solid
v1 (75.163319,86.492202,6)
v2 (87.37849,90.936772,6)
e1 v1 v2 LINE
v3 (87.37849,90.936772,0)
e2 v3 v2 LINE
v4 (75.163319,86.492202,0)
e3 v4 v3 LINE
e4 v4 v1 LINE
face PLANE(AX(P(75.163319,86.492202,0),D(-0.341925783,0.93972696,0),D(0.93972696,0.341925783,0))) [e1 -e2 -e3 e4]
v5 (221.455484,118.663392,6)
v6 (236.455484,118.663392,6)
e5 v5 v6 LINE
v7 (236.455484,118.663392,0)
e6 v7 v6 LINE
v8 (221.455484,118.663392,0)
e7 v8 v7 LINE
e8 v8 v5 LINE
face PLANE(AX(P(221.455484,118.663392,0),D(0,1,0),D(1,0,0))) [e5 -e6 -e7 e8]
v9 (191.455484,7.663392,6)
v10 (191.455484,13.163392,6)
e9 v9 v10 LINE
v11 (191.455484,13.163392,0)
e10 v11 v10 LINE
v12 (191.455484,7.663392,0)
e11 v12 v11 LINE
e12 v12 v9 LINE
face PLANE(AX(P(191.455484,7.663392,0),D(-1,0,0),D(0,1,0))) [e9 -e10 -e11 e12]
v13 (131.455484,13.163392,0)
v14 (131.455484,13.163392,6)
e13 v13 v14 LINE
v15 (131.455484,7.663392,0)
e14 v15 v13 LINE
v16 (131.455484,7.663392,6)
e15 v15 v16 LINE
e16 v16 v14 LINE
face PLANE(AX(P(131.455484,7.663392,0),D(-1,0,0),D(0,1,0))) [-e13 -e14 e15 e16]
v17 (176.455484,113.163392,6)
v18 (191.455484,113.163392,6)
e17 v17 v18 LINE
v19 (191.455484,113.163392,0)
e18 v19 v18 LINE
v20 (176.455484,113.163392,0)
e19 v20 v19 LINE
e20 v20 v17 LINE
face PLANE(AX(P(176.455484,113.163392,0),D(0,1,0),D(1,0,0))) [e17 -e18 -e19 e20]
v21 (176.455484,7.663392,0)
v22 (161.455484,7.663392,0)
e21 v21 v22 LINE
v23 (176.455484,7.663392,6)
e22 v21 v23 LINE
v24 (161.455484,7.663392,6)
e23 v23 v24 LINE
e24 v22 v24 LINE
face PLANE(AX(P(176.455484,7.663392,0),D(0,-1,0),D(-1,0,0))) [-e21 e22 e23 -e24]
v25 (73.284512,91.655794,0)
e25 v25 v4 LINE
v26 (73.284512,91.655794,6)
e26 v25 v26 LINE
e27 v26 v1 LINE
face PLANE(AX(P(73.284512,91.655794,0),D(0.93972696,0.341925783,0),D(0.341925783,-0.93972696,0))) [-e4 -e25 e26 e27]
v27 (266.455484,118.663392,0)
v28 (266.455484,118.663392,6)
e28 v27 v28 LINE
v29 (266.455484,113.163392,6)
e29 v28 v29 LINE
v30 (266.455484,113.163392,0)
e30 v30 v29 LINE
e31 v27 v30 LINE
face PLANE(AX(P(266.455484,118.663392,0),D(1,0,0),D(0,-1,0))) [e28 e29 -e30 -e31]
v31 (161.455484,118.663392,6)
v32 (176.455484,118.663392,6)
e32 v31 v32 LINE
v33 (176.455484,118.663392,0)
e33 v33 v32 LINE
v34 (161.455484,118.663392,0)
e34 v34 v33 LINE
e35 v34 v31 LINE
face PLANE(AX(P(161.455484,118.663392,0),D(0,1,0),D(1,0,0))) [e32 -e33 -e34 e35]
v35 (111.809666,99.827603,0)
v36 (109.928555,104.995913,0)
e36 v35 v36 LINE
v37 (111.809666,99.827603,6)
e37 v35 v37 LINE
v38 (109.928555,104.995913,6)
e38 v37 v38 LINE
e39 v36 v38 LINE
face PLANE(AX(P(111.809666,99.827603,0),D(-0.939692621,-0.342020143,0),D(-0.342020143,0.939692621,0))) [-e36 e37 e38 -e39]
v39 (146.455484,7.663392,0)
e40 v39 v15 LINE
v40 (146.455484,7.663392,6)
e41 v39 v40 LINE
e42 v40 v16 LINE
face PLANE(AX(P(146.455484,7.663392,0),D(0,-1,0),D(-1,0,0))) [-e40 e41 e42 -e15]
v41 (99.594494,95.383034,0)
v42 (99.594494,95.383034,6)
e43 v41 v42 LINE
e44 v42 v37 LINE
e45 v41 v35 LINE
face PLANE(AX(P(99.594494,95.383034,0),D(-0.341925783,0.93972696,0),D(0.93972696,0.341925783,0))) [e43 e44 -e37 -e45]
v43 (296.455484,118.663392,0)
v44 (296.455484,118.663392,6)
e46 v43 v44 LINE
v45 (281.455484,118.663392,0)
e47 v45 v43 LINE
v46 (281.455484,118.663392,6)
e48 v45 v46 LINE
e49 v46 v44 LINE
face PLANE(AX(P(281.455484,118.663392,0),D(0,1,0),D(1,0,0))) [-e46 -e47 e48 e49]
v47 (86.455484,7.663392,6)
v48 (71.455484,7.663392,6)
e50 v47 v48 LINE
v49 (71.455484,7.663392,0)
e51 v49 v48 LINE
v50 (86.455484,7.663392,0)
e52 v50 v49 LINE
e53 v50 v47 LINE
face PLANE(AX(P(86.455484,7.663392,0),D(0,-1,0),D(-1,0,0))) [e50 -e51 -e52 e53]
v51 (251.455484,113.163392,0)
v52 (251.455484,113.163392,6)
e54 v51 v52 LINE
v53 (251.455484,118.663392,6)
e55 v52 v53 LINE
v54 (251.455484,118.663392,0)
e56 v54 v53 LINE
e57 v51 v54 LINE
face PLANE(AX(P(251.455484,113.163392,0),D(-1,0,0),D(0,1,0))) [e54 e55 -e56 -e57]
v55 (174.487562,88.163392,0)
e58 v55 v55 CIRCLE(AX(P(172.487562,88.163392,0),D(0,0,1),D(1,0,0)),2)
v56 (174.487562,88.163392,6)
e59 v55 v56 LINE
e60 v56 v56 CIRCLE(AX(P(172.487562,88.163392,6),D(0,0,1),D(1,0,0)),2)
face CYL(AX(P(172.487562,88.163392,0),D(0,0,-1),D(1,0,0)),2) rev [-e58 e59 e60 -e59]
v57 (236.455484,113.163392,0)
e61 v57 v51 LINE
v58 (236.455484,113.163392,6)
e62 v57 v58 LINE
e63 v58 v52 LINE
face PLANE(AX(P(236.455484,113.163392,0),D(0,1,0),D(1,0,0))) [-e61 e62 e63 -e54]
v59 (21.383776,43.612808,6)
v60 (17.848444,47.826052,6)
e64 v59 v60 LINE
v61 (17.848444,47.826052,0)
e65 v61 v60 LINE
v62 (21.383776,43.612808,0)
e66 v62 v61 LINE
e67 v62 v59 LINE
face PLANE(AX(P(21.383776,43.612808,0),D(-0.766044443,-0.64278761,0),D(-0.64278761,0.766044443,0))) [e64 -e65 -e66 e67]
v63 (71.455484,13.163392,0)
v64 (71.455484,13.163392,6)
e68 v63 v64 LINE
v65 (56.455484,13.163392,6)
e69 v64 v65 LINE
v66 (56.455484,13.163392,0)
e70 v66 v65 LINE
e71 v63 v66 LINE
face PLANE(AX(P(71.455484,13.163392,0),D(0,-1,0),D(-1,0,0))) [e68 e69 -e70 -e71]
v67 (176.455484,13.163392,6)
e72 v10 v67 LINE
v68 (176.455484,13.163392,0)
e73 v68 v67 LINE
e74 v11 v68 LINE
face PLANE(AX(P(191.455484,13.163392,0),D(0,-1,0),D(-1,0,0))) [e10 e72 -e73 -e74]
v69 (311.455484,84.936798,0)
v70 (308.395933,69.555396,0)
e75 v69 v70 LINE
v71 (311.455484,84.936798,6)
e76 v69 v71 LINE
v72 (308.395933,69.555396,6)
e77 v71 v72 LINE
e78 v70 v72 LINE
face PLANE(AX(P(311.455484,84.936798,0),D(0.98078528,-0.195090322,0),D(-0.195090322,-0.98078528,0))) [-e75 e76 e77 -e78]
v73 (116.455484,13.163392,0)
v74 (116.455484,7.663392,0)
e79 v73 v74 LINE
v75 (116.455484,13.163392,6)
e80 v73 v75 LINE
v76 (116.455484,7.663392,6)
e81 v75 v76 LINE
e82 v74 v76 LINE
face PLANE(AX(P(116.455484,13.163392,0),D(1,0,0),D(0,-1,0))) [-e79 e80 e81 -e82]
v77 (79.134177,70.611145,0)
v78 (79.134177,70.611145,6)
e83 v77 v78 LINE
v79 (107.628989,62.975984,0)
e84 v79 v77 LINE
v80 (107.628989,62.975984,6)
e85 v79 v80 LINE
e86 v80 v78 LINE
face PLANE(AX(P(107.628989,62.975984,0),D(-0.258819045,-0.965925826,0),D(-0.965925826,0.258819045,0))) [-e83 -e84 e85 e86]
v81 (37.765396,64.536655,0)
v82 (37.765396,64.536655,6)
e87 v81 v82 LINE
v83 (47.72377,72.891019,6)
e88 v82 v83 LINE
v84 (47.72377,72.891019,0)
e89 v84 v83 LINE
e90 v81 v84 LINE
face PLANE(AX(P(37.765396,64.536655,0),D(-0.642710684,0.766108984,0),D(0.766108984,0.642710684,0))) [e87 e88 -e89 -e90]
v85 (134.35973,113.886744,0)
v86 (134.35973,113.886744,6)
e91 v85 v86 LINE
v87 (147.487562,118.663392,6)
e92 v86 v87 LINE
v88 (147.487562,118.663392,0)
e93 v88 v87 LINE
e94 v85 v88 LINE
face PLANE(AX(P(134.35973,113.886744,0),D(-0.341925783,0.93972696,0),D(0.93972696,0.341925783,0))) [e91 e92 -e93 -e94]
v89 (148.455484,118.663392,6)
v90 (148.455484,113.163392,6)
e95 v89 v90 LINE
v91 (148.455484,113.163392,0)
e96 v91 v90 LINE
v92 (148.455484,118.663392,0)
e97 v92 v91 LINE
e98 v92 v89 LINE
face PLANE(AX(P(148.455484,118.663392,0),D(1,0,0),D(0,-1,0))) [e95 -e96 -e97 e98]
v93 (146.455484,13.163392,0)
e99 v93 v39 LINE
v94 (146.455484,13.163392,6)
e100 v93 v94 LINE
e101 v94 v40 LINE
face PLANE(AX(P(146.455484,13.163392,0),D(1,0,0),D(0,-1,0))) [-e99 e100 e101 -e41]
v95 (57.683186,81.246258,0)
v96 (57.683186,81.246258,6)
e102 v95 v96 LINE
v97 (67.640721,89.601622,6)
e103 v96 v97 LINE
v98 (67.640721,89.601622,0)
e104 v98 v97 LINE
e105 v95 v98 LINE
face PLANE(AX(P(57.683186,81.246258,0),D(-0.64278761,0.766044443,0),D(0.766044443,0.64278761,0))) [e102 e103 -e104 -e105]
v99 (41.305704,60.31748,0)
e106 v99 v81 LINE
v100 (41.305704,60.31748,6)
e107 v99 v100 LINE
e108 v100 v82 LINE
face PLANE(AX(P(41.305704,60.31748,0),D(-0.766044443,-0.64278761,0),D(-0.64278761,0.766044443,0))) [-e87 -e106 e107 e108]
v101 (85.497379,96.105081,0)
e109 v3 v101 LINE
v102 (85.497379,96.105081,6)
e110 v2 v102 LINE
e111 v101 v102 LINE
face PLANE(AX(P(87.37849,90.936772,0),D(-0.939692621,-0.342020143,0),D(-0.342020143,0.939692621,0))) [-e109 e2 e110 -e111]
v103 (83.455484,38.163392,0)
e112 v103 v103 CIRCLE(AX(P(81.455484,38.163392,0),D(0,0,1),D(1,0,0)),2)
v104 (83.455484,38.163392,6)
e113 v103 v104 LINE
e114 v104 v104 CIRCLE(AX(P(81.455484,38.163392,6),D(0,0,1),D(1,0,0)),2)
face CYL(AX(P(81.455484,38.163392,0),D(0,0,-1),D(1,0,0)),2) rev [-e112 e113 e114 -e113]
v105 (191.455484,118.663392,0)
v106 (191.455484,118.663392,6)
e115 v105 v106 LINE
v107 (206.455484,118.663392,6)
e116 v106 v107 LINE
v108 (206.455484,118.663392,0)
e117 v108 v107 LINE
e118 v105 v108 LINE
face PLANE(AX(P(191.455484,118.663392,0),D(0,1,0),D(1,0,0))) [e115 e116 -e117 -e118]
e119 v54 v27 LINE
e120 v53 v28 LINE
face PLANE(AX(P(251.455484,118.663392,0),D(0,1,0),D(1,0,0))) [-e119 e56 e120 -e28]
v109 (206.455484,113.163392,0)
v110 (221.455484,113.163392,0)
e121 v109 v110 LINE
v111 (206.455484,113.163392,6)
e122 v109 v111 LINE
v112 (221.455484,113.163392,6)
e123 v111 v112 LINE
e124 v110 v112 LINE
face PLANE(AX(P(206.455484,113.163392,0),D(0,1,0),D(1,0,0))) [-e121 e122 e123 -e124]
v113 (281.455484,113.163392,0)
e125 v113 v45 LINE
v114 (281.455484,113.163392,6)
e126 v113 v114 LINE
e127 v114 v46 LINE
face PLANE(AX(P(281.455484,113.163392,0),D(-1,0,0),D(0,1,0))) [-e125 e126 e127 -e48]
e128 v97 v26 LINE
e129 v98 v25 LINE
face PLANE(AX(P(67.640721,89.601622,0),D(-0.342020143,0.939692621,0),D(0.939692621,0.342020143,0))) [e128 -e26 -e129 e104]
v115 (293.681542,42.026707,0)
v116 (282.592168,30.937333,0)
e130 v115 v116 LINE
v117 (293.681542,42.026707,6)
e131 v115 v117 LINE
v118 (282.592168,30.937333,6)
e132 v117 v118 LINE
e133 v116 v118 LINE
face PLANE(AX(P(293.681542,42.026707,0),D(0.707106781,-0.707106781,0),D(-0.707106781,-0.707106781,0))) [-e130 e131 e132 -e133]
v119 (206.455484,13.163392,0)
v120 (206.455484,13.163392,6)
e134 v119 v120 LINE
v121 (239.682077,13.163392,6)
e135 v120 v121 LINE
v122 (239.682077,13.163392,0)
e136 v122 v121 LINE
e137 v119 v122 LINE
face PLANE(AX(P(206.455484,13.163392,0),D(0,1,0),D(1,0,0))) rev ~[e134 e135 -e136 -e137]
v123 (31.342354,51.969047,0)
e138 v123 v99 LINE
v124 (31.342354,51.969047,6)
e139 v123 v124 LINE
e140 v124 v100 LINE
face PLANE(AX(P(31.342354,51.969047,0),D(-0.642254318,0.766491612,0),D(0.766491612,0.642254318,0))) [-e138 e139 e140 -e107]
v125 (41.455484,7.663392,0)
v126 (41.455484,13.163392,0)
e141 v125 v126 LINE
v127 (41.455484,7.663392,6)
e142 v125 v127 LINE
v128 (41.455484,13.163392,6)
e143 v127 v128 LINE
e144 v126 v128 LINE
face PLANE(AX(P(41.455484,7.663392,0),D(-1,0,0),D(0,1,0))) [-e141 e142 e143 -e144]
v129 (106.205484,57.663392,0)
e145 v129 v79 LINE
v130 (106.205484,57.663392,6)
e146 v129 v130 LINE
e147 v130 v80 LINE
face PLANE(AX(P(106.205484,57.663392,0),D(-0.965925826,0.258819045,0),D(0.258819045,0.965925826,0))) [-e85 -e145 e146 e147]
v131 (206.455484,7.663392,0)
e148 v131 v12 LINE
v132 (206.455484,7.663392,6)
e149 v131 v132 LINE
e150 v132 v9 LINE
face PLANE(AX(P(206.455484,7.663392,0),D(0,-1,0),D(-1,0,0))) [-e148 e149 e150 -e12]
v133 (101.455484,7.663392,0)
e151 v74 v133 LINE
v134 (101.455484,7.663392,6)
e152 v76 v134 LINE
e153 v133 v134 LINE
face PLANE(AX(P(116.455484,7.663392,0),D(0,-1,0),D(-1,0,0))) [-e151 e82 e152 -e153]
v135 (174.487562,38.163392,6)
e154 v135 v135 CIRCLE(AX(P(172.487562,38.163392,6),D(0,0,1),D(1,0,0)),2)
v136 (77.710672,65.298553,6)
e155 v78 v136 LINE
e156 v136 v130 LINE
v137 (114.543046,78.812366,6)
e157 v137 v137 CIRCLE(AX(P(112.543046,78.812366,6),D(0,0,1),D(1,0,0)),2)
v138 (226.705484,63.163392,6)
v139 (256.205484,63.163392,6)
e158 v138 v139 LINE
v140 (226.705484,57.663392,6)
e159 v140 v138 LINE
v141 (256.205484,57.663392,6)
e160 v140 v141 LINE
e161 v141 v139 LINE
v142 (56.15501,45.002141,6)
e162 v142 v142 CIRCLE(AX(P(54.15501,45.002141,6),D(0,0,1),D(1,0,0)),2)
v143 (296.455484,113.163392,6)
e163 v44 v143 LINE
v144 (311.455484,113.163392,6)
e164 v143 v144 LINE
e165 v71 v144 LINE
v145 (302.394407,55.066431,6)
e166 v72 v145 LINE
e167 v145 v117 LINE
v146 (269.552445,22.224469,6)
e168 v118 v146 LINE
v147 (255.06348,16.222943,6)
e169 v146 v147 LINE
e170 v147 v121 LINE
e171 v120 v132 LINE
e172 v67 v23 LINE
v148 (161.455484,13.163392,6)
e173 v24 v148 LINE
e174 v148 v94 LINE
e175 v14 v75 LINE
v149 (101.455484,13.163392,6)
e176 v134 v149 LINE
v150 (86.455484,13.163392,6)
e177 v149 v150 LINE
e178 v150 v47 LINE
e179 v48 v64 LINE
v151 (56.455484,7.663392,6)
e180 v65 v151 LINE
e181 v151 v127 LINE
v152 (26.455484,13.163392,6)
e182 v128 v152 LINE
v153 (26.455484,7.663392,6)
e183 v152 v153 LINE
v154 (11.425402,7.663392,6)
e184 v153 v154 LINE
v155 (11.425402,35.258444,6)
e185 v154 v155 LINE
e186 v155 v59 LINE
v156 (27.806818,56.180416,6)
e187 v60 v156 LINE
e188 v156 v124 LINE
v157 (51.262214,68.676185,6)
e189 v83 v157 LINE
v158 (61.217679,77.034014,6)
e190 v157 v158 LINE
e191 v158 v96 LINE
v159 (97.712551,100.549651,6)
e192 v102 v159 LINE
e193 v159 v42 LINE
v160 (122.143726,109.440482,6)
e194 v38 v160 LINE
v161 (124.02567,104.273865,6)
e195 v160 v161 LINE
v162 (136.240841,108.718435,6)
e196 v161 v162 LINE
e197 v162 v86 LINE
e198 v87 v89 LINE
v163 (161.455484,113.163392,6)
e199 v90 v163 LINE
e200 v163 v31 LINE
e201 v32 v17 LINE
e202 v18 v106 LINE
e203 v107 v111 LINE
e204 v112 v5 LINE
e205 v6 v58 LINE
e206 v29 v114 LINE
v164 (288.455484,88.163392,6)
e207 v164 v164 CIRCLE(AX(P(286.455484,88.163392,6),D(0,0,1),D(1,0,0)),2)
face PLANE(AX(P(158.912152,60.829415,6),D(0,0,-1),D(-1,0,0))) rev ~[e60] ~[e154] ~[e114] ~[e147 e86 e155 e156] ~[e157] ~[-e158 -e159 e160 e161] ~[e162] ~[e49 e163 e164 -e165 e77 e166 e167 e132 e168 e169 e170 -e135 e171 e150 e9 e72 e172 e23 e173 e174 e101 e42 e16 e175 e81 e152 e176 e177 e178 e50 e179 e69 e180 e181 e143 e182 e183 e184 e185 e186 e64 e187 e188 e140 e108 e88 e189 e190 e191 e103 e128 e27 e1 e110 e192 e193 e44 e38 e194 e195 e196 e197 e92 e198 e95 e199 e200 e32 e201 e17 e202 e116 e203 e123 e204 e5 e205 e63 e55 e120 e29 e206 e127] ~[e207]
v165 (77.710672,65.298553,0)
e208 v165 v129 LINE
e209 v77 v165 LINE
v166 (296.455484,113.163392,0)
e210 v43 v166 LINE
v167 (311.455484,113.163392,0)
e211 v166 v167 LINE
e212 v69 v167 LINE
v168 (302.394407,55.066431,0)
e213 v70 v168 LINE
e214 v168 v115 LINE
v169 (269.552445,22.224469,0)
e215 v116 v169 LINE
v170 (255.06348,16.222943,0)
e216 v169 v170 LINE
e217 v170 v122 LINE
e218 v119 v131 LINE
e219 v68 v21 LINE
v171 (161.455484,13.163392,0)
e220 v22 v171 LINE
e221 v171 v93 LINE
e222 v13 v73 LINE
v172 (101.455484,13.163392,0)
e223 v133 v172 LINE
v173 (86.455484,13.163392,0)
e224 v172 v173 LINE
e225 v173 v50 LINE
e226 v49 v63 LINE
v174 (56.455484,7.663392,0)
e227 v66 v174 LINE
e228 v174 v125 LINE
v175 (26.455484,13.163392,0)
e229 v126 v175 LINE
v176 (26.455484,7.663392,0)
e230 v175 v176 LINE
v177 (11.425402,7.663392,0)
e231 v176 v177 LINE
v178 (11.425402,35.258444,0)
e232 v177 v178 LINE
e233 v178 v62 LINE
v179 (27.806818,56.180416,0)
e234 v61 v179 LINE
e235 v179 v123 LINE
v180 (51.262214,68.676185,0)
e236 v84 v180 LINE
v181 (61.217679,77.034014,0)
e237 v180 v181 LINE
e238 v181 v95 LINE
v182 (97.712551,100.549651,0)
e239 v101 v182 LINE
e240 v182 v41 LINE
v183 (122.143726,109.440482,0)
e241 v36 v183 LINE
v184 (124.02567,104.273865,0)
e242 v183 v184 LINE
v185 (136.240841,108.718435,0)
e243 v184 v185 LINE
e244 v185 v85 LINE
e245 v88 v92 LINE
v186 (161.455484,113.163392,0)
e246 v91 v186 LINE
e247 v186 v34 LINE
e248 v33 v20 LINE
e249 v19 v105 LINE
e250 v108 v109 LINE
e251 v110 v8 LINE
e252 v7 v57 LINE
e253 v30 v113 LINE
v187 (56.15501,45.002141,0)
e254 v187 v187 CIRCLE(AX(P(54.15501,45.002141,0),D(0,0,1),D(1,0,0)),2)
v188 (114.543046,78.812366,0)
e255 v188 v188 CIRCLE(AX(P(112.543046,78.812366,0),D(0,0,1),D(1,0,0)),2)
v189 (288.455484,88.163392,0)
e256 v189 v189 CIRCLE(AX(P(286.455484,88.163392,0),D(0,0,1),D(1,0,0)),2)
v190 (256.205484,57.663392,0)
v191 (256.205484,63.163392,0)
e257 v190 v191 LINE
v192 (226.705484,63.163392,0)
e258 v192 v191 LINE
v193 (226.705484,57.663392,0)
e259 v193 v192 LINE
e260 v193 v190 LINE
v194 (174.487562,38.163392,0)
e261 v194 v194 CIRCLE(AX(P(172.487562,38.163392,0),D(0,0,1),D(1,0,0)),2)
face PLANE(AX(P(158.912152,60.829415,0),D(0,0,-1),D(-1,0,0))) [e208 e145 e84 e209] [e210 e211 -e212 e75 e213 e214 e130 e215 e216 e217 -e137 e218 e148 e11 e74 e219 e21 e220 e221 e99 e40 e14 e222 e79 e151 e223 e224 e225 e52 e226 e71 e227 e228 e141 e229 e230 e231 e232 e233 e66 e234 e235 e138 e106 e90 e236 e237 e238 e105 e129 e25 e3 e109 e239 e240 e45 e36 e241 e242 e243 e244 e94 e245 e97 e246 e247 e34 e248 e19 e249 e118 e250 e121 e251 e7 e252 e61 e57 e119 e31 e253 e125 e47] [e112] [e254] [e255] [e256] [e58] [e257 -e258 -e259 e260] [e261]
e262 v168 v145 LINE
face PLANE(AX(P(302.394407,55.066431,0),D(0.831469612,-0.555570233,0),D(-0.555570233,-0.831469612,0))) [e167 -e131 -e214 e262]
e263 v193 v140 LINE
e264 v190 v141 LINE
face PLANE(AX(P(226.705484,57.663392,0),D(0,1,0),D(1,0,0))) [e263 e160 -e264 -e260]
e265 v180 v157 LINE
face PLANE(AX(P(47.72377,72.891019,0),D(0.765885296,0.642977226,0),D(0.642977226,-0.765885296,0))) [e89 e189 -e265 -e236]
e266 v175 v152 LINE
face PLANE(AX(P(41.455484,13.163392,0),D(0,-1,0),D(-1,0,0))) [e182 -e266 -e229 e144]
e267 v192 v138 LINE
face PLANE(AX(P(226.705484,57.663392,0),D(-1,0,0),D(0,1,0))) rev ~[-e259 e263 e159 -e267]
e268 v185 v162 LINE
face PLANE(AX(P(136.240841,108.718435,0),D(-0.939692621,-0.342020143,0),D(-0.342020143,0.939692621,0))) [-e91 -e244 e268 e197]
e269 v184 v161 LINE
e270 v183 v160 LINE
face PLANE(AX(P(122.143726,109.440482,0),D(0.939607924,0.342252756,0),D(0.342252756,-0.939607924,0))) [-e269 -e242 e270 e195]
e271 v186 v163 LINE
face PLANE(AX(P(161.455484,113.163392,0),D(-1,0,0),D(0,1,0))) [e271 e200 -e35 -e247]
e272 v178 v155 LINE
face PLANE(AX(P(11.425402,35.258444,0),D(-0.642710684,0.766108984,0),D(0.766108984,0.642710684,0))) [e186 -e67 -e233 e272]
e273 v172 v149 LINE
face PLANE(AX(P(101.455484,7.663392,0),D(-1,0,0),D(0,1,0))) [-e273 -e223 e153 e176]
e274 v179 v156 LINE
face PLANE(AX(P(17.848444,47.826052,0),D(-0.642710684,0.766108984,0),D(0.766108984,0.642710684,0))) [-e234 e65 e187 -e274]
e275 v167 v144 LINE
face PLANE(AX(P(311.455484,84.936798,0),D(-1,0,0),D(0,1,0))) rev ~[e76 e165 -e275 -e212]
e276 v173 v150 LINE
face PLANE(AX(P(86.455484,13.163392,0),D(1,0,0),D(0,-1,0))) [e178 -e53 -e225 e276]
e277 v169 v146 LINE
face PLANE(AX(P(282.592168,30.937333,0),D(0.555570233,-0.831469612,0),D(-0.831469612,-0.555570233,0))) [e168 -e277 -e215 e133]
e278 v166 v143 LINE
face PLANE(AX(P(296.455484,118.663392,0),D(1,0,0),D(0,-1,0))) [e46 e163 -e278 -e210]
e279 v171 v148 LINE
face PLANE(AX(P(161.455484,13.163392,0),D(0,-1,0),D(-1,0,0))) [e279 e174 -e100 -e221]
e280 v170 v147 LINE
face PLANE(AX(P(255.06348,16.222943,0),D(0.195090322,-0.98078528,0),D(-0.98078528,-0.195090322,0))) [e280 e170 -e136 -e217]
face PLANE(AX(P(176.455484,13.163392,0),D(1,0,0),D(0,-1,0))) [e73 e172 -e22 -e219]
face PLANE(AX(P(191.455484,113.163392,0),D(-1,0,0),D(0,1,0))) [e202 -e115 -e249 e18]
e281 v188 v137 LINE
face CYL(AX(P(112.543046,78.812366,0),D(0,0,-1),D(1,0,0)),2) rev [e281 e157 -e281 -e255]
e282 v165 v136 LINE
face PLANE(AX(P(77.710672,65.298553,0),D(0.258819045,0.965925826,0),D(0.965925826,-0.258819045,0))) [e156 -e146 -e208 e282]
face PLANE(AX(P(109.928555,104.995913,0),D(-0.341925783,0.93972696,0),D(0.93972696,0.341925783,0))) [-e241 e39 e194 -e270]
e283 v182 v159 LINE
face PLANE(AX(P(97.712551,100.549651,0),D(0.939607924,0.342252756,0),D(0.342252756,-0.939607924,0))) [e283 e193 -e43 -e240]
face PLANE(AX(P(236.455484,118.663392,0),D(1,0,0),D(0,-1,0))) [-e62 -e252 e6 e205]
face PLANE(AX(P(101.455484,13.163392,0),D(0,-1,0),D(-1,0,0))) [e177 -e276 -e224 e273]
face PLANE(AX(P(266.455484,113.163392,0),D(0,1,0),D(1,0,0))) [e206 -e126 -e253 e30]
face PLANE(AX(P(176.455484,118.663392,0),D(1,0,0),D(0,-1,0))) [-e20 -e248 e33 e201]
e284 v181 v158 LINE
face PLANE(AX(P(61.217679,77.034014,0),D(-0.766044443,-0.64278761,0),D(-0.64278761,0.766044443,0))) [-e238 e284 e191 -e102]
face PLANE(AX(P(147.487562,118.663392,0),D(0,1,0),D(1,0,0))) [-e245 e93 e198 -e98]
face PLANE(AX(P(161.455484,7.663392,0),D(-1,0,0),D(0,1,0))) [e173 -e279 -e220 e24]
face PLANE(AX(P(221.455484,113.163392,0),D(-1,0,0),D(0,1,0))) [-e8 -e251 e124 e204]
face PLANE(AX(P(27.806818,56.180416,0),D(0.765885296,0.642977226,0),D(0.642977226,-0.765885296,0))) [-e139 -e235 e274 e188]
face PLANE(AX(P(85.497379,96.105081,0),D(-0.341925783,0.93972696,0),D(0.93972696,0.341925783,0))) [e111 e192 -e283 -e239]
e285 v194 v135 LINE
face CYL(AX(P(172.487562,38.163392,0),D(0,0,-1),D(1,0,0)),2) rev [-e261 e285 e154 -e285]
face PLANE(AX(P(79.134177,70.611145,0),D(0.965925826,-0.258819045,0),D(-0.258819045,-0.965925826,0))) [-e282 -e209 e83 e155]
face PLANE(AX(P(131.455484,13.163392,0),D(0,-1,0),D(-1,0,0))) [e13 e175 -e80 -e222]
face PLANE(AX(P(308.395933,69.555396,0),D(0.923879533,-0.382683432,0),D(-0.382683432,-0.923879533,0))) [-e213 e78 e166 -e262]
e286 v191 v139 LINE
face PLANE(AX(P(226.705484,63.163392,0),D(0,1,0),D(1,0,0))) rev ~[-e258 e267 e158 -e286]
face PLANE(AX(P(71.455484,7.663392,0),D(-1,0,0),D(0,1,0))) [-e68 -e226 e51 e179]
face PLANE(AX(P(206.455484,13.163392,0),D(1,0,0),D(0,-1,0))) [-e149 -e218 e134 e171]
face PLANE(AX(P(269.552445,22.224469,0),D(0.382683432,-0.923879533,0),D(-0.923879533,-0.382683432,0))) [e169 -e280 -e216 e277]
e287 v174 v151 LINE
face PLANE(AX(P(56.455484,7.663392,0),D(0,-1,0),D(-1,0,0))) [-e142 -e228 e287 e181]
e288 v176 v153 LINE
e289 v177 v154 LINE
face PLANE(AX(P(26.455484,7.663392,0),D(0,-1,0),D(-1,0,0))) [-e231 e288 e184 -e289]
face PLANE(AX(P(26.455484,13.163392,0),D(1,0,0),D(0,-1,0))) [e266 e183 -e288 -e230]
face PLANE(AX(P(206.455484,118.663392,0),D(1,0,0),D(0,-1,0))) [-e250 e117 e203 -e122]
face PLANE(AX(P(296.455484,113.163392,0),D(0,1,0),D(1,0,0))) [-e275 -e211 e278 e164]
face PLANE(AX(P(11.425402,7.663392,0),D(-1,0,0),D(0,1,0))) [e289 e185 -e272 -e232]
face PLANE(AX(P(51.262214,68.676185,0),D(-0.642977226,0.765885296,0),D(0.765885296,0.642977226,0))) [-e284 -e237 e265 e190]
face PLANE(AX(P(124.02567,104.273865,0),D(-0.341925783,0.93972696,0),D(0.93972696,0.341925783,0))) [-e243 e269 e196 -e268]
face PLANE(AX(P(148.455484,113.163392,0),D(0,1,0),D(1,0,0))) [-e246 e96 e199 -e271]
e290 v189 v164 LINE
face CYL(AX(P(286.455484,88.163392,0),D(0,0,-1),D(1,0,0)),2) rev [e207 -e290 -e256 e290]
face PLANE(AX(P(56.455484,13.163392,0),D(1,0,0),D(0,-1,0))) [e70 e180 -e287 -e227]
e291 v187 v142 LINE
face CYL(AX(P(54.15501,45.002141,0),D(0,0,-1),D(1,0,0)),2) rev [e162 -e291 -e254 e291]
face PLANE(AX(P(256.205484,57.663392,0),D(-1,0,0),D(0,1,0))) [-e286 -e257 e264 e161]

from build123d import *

# Parameters (mm, degrees)
MODEL_R             = 2
MODEL_W             = 29.5
MODEL_H             = 5.5
BOSS_EXTRUDE1_DEPTH = 6


with BuildPart() as part:
    # Model → Boss-Extrude1 (new body)
    with BuildSketch(Plane.XY):
        Polygon((41.305703545, 60.317480411), (37.765395693, 64.536655013), (47.723769702, 72.891019085), (51.262213555, 68.676185328), (61.217679315, 77.034013574), (57.683186462, 81.246258129), (67.640721471, 89.601622083), (73.284512173, 91.655793907), (75.16331879, 86.492201925), (87.378490159, 90.936771689), (85.497379371, 96.105081103), (97.712550739, 100.549650868), (99.594494229, 95.383033552), (111.809665598, 99.827603316), (109.92855481, 104.995912731), (122.143726178, 109.440482495), (124.025669668, 104.27386518), (136.240841037, 108.718434944), (134.359730249, 113.886744358), (147.487562001, 118.663391555), (148.455483892, 118.663391555), (148.455483892, 113.163391555), (161.455483892, 113.163391555), (161.455483892, 118.663391555), (176.455483892, 118.663391555), (176.455483892, 113.163391555), (191.455483892, 113.163391555), (191.455483892, 118.663391555), (206.455483892, 118.663391555), (206.455483892, 113.163391555), (221.455483892, 113.163391555), (221.455483892, 118.663391555), (236.455483892, 118.663391555), (236.455483892, 113.163391555), (251.455483892, 113.163391555), (251.455483892, 118.663391555), (266.455483892, 118.663391555), (266.455483892, 113.163391555), (281.455483892, 113.163391555), (281.455483892, 118.663391555), (296.455483892, 118.663391555), (296.455483892, 113.163391555), (311.455483892, 113.163391555), (311.455483892, 100.619540915), (311.455483892, 84.936798462), (308.395932616, 69.555395508), (302.394406906, 55.066430742), (293.681542027, 42.026706955), (282.592168491, 30.937333419), (269.552444704, 22.224468541), (255.063479938, 16.22294283), (239.682076984, 13.163391555), (236.455483892, 13.163391555), (221.455483892, 13.163391555), (206.455483892, 13.163391555), (206.455483892, 7.663391555), (191.455483892, 7.663391555), (191.455483892, 13.163391555), (176.455483892, 13.163391555), (176.455483892, 7.663391555), (161.455483892, 7.663391555), (161.455483892, 13.163391555), (146.455483892, 13.163391555), (146.455483892, 7.663391555), (131.455483892, 7.663391555), (131.455483892, 13.163391555), (116.455483892, 13.163391555), (116.455483892, 7.663391555), (101.455483892, 7.663391555), (101.455483892, 13.163391555), (86.455483892, 13.163391555), (86.455483892, 7.663391555), (71.455483892, 7.663391555), (71.455483892, 13.163391555), (56.455483892, 13.163391555), (56.455483892, 7.663391555), (41.455483892, 7.663391555), (41.455483892, 13.163391555), (26.455483892, 13.163391555), (26.455483892, 7.663391555), (11.425401767, 7.663391555), (11.425401767, 35.258443505), (21.383775776, 43.612807577), (17.848443923, 47.826052014), (27.806817932, 56.180416087), (31.342353537, 51.969046503), align=None)
        with Locations((172.487562001, 88.163391555)):
            Circle(MODEL_R, mode=Mode.SUBTRACT)
        with Locations((286.455483892, 88.163391555)):
            Circle(MODEL_R, mode=Mode.SUBTRACT)
        with Locations((81.455483892, 38.163391555)):
            Circle(MODEL_R, mode=Mode.SUBTRACT)
        with Locations((172.487562001, 38.163391555)):
            Circle(MODEL_R, mode=Mode.SUBTRACT)
        with Locations((112.543046266, 78.812365745)):
            Circle(MODEL_R, mode=Mode.SUBTRACT)
        with Locations((54.155009637, 45.002140534)):
            Circle(MODEL_R, mode=Mode.SUBTRACT)
        with Locations((241.455483892, 60.413391555)):
            Rectangle(MODEL_W, MODEL_H, mode=Mode.SUBTRACT)
        Polygon((107.62898864, 62.975983599), (79.134176764, 70.61114543), (77.710672016, 65.298553385), (106.205483892, 57.663391555), align=None, mode=Mode.SUBTRACT)
    extrude(amount=BOSS_EXTRUDE1_DEPTH)


solid = part.part
